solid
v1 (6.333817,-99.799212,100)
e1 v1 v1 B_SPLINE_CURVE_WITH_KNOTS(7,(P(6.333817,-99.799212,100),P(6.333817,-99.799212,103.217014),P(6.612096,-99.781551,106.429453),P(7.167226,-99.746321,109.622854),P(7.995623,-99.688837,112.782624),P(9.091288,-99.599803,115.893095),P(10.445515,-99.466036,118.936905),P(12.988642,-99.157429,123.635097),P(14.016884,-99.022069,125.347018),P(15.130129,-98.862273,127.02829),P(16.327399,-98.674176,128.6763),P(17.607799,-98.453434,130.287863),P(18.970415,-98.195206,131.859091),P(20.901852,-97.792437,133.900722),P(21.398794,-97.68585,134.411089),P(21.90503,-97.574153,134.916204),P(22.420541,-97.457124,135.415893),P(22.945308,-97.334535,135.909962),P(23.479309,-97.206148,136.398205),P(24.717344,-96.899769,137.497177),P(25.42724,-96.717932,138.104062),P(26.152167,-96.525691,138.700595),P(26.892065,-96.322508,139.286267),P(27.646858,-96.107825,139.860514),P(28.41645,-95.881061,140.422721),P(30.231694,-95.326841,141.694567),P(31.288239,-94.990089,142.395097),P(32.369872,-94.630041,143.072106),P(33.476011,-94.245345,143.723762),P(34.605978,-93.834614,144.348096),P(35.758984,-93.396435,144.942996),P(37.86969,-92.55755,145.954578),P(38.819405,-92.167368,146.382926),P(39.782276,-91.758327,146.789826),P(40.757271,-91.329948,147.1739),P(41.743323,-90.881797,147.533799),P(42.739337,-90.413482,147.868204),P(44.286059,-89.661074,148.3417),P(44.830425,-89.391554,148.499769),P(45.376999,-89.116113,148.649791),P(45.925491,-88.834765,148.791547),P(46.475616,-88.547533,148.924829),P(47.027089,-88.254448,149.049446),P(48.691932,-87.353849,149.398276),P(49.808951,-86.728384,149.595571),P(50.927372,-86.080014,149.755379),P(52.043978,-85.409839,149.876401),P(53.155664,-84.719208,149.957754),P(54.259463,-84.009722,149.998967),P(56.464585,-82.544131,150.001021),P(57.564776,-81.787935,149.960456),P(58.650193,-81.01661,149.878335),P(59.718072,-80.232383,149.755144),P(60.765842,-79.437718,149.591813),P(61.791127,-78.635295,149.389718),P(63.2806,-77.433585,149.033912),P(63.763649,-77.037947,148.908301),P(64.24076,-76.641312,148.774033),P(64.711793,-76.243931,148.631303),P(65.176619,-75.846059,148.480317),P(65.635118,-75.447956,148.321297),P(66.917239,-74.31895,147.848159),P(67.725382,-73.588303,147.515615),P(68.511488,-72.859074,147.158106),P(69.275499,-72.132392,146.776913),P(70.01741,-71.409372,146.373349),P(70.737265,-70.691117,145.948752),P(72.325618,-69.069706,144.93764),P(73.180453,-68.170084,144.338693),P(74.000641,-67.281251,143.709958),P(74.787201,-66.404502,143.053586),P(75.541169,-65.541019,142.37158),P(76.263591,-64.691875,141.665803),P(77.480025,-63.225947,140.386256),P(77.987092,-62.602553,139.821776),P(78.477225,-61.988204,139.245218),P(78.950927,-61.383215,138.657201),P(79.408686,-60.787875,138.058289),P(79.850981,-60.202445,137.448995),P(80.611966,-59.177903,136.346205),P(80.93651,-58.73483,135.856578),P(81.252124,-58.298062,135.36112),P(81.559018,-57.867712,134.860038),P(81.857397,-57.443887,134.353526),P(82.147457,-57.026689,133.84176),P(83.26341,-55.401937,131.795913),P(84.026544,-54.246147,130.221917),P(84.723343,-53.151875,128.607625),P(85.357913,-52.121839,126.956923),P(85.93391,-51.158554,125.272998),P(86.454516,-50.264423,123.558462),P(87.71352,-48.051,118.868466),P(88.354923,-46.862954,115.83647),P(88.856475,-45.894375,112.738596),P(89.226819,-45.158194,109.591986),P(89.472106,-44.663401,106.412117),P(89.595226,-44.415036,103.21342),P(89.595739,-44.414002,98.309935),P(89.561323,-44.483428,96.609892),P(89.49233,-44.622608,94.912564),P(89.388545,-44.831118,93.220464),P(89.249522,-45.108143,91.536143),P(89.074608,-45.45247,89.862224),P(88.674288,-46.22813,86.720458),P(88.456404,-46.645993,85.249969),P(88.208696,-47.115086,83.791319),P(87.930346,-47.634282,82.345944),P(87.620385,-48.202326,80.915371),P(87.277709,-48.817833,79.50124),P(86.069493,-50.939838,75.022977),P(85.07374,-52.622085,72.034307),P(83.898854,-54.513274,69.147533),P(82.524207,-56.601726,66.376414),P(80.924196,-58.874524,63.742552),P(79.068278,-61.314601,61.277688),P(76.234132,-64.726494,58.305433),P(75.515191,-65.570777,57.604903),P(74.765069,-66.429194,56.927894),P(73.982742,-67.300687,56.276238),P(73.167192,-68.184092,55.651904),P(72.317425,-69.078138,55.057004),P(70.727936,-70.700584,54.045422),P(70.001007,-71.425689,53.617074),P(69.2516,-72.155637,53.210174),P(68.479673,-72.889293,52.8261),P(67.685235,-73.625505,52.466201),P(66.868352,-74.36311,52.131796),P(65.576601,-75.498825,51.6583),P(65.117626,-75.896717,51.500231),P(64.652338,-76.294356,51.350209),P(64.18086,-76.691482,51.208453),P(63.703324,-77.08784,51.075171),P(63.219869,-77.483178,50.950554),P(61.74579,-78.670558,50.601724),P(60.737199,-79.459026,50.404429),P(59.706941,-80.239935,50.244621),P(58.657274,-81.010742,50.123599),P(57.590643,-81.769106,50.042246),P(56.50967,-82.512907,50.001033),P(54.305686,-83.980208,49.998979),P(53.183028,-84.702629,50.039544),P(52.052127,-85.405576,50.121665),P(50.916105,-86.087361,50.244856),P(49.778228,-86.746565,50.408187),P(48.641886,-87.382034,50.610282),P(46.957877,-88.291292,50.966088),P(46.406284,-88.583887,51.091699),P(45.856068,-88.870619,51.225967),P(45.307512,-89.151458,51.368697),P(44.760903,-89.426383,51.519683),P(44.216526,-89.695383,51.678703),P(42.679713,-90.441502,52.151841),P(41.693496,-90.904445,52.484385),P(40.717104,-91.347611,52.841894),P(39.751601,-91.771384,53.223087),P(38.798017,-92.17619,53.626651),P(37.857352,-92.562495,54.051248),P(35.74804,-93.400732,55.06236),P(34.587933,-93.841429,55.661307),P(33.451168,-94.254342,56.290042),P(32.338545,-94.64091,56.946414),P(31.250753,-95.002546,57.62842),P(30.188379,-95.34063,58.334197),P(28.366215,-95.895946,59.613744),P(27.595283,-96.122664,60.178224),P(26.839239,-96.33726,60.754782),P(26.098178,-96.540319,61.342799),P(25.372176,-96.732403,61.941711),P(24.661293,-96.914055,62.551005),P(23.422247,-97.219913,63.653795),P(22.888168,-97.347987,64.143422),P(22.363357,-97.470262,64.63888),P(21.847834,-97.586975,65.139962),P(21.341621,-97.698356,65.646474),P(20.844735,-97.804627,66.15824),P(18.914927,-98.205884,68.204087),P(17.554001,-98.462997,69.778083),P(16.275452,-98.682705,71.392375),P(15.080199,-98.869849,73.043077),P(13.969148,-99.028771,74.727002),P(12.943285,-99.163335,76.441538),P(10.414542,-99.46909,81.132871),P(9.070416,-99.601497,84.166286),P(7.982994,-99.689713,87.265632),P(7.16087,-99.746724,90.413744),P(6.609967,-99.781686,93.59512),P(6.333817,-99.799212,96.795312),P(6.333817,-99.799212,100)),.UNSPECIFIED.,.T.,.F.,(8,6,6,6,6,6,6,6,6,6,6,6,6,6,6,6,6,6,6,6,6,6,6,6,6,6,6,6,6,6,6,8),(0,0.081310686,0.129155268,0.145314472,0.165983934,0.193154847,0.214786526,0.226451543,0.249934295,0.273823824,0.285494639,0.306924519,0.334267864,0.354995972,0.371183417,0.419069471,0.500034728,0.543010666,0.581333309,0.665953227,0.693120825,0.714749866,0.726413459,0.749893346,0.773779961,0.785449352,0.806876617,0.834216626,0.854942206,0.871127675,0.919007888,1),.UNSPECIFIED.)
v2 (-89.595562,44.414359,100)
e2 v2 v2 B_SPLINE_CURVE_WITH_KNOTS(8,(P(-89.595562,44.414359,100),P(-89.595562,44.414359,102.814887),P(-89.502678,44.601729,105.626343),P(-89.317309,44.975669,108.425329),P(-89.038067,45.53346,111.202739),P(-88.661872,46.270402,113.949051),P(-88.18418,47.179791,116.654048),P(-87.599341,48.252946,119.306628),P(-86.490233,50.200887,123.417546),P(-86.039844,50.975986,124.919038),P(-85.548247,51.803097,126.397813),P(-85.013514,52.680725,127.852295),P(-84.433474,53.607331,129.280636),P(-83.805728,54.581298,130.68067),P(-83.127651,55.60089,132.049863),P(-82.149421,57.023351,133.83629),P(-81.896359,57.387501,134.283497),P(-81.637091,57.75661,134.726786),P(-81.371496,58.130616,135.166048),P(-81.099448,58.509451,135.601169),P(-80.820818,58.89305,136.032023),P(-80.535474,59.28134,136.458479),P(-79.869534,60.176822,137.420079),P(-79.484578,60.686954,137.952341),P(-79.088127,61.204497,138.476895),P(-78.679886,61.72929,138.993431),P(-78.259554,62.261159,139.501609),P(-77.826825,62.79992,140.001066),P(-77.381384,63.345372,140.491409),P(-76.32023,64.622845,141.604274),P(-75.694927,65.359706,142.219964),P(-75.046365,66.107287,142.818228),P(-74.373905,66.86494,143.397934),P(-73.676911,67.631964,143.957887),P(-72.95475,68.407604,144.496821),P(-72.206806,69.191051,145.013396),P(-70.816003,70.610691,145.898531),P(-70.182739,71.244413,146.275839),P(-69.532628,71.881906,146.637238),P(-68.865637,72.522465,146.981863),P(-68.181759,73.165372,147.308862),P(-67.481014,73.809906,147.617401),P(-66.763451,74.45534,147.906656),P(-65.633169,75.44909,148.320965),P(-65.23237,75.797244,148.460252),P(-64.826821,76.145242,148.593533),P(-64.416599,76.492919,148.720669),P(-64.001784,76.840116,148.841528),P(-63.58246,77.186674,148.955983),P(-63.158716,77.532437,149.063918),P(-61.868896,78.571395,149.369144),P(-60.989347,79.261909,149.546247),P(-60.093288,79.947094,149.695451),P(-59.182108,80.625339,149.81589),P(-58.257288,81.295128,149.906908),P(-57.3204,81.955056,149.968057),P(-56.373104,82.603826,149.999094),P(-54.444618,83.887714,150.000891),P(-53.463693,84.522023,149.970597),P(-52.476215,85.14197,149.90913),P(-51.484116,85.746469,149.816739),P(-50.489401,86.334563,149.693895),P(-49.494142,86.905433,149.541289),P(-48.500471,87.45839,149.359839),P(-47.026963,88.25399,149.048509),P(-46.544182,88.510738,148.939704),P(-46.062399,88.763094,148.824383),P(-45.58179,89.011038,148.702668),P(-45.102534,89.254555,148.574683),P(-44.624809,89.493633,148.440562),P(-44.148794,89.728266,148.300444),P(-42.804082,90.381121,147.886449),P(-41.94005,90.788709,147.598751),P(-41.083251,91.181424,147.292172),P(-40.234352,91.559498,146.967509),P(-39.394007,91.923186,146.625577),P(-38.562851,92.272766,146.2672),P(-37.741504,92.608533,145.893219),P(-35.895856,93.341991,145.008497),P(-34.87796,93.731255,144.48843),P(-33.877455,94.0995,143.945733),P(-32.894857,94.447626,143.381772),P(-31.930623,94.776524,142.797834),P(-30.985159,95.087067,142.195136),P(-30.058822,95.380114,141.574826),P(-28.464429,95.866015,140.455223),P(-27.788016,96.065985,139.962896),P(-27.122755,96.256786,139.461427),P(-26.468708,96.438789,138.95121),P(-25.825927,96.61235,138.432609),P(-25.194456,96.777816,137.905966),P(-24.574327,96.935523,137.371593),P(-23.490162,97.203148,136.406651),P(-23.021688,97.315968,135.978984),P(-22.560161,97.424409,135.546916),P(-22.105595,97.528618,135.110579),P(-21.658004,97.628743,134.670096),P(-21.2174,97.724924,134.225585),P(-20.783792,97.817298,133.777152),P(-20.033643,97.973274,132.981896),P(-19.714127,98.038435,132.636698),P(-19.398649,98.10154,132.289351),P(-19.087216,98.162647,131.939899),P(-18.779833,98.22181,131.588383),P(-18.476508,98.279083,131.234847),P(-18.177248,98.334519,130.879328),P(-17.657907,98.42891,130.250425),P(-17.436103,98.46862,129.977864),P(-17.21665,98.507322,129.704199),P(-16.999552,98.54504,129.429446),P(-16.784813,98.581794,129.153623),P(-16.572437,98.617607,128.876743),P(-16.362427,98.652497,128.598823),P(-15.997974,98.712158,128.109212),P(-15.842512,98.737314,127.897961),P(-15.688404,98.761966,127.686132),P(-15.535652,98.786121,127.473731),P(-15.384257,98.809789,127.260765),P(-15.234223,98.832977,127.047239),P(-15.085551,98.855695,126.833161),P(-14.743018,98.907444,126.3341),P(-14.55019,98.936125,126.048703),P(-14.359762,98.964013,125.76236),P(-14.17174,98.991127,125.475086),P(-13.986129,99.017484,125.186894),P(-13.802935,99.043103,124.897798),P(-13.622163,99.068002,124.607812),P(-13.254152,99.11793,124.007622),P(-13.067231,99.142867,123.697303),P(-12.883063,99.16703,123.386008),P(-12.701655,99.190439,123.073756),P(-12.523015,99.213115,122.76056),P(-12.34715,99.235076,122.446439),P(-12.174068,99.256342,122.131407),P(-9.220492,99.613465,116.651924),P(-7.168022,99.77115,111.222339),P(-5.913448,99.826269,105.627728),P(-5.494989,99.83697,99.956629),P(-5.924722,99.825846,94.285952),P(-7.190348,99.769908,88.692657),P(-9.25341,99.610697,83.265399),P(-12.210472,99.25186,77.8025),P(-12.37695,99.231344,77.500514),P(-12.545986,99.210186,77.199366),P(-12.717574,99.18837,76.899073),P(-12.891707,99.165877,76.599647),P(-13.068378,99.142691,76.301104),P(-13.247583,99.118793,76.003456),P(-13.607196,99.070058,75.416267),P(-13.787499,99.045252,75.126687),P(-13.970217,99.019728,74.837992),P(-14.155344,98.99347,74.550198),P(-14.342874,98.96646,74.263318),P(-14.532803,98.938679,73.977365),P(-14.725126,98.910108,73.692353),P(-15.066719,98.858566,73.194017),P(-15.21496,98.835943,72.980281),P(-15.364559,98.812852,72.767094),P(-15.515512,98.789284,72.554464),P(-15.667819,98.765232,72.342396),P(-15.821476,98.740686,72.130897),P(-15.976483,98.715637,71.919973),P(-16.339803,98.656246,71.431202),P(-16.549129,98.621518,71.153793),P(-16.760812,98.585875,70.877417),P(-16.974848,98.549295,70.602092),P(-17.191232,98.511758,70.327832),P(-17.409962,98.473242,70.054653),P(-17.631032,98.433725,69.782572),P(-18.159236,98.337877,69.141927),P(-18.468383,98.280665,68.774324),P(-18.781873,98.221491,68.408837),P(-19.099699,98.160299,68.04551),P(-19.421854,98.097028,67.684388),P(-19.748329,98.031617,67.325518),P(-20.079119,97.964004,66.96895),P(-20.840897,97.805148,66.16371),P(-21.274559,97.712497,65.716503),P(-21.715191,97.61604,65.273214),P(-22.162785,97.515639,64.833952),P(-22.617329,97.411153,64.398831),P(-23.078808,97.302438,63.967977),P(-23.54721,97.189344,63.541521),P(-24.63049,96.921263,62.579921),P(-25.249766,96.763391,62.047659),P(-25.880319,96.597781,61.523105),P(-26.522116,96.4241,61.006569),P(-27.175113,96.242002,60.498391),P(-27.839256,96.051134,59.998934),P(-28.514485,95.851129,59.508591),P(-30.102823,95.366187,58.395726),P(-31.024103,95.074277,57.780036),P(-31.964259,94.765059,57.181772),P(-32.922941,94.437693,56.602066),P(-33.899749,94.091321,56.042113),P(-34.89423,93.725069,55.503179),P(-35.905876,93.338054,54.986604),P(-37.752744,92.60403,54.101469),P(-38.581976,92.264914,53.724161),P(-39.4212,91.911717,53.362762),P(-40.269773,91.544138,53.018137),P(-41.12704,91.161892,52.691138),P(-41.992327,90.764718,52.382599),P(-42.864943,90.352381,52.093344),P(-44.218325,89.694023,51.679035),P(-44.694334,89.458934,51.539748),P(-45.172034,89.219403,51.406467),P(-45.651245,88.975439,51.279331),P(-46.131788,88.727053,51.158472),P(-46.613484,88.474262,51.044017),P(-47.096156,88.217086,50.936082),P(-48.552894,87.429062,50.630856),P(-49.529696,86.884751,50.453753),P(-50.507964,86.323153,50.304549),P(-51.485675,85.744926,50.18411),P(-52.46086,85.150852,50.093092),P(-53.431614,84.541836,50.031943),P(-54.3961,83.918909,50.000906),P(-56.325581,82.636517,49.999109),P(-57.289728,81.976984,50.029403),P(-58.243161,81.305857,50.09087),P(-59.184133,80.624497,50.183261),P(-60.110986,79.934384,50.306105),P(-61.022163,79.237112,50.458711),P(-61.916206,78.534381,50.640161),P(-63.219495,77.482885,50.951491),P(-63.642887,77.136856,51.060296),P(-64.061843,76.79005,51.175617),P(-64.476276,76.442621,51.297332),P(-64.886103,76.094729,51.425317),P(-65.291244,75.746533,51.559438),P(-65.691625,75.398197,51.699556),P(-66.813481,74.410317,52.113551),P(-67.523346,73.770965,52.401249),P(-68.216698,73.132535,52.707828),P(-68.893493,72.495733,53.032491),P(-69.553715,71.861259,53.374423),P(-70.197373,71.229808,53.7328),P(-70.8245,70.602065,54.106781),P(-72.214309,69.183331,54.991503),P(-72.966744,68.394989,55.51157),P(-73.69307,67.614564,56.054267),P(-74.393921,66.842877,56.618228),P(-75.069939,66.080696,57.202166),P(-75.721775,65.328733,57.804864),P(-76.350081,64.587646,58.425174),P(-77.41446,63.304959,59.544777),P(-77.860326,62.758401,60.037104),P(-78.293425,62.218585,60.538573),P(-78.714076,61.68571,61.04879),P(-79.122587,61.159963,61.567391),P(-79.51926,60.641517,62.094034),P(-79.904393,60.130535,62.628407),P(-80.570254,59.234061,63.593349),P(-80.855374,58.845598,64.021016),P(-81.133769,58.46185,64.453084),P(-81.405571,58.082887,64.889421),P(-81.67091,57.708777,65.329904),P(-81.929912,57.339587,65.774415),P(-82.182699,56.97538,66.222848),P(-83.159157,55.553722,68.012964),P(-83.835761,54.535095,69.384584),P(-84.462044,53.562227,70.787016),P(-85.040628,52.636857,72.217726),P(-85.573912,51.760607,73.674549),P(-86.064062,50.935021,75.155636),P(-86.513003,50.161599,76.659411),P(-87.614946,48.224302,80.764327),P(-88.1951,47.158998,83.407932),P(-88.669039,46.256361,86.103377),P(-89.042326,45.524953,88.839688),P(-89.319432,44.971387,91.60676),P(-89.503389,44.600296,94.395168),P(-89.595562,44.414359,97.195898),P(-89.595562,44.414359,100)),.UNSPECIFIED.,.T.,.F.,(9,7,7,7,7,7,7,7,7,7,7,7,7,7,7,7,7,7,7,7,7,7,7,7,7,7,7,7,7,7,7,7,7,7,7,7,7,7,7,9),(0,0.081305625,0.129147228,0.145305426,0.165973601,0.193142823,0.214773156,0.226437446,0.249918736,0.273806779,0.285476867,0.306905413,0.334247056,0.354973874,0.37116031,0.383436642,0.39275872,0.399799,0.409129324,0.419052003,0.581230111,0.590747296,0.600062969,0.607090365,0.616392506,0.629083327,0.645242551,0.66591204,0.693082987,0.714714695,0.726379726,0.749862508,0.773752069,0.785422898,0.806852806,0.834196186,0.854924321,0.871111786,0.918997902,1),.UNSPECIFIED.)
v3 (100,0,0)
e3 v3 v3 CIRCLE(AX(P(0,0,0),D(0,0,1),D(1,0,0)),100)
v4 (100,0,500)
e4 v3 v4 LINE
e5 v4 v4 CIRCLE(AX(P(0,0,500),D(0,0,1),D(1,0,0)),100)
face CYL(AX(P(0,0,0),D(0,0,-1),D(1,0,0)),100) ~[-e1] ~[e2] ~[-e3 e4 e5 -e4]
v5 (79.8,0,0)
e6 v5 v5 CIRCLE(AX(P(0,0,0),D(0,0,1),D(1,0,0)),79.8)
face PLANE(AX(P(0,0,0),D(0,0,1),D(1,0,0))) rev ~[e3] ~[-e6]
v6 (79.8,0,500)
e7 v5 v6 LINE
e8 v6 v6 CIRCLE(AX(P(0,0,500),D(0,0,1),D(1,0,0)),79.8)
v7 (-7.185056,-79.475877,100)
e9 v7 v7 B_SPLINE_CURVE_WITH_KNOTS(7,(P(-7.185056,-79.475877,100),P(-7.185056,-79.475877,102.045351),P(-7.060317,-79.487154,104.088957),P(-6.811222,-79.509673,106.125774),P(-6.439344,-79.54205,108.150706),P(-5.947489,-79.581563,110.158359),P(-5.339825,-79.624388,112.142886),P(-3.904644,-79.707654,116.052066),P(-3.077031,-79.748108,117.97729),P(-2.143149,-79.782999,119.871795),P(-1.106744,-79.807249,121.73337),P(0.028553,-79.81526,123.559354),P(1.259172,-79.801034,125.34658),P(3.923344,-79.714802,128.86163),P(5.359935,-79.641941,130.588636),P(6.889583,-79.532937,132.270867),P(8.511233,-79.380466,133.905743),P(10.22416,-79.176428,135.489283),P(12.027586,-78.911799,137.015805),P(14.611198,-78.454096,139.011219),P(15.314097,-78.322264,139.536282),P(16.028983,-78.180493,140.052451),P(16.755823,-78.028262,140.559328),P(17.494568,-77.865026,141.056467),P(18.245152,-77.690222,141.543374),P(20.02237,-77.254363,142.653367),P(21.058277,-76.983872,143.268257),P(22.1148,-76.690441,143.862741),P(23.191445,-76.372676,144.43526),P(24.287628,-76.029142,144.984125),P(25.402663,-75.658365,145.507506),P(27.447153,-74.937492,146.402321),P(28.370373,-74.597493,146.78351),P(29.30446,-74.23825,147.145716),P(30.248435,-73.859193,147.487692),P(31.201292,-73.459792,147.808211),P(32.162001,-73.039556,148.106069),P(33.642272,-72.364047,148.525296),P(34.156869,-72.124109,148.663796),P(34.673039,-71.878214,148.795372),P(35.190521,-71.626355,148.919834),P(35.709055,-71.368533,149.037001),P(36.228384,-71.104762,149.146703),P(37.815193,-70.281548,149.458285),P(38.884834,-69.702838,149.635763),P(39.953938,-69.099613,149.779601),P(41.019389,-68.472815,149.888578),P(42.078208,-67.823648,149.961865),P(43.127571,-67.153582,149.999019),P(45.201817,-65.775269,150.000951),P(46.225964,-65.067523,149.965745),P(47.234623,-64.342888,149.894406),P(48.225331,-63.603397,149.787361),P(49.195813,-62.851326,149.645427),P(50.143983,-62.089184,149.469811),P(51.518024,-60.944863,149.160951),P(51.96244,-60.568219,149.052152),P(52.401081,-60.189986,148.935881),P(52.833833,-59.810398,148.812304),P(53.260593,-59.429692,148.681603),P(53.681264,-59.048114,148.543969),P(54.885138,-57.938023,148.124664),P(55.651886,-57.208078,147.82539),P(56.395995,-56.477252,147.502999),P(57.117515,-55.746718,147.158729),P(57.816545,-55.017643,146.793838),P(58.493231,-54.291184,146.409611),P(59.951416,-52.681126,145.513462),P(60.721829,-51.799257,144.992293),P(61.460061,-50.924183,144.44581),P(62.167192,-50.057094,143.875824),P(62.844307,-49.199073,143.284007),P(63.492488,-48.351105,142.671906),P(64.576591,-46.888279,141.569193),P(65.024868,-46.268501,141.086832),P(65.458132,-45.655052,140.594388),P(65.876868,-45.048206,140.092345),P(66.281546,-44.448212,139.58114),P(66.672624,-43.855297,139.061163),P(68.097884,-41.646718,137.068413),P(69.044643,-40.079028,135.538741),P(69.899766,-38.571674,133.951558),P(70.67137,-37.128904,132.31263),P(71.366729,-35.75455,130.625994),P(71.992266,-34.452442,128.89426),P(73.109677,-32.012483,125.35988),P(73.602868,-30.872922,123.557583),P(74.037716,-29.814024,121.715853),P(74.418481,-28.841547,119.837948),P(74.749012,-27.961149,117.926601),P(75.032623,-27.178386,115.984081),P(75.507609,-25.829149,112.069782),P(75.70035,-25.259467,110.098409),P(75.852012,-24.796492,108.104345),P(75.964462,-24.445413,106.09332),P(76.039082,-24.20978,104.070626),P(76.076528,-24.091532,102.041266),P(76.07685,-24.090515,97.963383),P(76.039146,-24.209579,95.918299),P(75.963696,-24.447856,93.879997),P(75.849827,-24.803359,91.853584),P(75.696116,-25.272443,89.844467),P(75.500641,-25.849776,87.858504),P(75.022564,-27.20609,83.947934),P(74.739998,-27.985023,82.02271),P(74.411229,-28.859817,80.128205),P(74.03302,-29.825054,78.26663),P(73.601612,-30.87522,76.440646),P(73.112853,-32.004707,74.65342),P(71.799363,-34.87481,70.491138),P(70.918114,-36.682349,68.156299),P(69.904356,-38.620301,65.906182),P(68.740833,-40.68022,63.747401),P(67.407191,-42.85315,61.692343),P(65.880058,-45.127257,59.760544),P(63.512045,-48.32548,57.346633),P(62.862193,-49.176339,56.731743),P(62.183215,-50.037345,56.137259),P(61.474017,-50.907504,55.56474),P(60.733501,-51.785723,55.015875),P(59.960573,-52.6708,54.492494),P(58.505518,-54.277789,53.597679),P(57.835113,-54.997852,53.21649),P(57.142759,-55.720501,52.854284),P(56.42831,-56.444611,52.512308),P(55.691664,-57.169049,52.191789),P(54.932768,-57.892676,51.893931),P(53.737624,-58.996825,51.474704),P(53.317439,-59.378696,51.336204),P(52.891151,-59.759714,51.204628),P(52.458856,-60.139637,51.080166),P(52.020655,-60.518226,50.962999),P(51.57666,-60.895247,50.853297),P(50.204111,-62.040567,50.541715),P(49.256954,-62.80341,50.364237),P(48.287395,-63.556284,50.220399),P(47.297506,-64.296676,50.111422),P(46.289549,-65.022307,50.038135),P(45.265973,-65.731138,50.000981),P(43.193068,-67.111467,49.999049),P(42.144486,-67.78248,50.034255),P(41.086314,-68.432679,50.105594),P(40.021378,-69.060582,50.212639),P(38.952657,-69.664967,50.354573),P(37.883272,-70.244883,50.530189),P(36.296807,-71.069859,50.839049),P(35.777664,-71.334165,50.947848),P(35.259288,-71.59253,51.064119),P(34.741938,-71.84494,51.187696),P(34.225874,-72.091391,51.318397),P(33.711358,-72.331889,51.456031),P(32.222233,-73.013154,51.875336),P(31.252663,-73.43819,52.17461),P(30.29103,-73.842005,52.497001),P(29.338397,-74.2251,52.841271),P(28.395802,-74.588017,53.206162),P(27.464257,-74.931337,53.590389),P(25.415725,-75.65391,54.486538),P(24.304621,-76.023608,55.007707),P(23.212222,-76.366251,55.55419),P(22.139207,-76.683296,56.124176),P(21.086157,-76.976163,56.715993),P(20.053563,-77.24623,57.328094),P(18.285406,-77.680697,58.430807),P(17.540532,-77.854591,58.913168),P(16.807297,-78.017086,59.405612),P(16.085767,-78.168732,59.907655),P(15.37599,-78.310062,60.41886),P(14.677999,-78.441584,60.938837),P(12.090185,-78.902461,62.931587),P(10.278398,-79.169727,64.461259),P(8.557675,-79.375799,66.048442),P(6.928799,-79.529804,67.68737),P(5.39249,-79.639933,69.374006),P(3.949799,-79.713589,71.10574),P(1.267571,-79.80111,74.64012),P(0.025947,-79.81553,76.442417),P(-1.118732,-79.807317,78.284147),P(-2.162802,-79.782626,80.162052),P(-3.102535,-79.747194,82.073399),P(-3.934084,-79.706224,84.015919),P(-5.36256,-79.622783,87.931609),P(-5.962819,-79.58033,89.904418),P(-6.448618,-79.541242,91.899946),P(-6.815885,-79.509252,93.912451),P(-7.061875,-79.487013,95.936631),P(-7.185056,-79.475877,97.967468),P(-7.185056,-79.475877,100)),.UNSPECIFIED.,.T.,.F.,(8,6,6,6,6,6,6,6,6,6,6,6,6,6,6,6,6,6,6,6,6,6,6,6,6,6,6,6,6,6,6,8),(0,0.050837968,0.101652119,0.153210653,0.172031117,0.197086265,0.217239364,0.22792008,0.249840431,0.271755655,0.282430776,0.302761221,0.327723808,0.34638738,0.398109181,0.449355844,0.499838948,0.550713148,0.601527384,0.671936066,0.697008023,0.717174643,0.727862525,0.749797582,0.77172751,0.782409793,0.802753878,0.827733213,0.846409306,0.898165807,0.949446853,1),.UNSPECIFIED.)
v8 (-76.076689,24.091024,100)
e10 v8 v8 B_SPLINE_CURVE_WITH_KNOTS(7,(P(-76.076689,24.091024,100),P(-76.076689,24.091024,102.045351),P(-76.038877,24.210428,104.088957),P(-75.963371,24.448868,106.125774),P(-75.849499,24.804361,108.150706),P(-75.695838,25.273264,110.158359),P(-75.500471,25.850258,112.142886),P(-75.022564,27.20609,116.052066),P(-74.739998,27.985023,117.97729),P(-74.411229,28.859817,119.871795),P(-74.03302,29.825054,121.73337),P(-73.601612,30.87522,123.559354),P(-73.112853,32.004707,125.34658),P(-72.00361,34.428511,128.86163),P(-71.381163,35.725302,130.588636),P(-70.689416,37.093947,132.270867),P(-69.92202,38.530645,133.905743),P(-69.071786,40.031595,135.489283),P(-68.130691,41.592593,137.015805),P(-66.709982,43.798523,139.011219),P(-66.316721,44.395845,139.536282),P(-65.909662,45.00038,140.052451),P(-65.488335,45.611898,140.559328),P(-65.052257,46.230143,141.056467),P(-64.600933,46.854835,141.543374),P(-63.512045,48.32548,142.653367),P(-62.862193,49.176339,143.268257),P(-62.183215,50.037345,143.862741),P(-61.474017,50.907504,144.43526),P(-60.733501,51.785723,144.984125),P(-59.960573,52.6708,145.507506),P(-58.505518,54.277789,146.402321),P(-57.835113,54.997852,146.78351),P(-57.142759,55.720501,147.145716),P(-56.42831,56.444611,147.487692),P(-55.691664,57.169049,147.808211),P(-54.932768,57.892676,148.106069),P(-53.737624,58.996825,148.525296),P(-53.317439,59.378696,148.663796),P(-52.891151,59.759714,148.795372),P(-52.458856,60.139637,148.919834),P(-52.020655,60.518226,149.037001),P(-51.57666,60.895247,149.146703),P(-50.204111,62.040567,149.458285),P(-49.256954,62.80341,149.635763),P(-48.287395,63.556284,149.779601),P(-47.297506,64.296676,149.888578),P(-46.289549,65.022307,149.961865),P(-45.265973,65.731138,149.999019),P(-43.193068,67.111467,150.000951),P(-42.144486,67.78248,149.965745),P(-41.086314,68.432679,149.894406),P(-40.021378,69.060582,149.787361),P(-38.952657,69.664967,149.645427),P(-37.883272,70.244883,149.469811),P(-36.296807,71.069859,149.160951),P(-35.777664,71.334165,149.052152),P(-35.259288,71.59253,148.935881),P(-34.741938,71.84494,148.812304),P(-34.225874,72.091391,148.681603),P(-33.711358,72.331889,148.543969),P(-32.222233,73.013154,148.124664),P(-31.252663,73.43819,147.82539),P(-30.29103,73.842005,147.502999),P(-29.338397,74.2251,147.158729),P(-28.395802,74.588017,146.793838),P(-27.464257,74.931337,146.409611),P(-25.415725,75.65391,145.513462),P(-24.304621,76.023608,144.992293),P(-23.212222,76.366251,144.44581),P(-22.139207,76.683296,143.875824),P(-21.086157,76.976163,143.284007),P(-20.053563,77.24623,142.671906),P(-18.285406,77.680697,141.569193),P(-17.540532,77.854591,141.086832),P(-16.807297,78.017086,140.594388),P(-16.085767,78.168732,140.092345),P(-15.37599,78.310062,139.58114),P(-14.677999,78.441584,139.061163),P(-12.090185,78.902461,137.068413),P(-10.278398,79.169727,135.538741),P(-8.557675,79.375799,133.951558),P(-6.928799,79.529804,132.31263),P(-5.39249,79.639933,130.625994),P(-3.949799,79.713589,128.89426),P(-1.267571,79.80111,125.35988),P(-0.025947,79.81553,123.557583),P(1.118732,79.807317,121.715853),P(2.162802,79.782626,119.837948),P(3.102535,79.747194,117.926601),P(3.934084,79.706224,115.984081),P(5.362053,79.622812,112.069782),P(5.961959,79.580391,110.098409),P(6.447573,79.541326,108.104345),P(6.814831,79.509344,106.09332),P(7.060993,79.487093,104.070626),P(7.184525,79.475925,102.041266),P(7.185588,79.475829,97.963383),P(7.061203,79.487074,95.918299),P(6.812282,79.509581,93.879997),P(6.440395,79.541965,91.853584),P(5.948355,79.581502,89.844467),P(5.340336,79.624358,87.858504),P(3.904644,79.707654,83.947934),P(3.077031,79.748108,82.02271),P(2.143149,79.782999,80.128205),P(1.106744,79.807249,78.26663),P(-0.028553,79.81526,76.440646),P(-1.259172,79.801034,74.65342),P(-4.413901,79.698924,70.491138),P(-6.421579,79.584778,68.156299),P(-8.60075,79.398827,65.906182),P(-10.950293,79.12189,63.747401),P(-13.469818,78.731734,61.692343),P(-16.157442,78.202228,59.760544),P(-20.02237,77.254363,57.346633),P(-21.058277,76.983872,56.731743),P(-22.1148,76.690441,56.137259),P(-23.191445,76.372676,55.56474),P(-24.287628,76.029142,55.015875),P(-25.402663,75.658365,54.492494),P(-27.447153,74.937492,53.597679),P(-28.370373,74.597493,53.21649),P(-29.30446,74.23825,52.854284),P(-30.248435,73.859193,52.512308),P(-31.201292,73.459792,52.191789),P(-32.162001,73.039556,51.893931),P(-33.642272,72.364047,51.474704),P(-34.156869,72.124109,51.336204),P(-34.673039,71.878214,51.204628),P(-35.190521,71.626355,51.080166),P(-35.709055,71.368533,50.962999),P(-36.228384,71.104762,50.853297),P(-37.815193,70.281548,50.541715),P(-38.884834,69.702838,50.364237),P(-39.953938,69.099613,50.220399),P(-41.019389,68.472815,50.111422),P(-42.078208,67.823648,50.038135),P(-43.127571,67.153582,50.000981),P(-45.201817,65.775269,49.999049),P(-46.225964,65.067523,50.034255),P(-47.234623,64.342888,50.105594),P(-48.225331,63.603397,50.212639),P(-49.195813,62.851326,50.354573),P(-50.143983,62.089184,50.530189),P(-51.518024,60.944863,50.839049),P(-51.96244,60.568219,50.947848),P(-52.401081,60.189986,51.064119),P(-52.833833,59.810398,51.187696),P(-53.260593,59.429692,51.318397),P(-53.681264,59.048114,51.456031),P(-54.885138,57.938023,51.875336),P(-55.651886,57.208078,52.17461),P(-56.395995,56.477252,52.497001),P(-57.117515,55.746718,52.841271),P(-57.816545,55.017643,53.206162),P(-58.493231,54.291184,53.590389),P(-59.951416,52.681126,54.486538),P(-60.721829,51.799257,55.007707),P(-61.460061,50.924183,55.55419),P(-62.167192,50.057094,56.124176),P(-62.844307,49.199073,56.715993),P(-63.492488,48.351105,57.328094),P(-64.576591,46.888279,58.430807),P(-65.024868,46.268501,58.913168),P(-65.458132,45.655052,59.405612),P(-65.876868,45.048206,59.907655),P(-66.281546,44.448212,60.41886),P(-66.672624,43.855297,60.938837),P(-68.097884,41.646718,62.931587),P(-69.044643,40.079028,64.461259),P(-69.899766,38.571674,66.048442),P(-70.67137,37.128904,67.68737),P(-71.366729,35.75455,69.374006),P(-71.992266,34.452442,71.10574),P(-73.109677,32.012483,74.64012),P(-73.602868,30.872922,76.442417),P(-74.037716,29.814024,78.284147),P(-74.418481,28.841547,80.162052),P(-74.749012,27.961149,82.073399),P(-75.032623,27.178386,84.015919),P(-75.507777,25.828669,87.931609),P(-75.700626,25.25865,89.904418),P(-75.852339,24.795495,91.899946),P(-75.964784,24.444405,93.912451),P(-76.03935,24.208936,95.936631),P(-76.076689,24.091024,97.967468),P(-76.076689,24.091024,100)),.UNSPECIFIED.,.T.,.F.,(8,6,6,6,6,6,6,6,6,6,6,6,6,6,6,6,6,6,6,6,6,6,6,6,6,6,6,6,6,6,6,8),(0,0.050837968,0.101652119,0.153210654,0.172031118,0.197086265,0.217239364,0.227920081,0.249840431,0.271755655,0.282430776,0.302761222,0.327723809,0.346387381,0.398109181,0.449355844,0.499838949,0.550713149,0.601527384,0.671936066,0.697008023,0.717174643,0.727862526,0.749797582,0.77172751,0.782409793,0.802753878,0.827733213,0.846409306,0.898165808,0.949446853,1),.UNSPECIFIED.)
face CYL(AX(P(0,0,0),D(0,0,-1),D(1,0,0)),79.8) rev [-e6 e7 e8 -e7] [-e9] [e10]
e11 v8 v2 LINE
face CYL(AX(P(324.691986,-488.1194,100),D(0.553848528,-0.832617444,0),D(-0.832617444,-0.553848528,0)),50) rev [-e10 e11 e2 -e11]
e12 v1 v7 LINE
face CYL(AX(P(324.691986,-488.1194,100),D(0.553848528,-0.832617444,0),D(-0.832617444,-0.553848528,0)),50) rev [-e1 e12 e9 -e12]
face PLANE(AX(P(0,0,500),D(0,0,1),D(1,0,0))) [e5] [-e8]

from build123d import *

# Parameters (mm, degrees)
CROQUIS1_R                 = 100
CROQUIS1_R_2               = 79.8
SALIENTE_EXTRUIR1_DEPTH    = 500
CORTAR_EXTRUIR1_DEPTH      = 586.09066571
CORTAR_EXTRUIR1_DEPTH_BACK = 586.09066571
CROQUIS2_R                 = 50


with BuildPart() as part:
    # Croquis1 → Saliente-Extruir1 (new body)
    with BuildSketch(Plane.XY):
        Circle(CROQUIS1_R)
        Circle(CROQUIS1_R_2, mode=Mode.SUBTRACT)
    extrude(amount=SALIENTE_EXTRUIR1_DEPTH)

    # Croquis2 → Cortar-Extruir1 (cut, two sides: drawn at the far end of the back side and taken through both)
    with BuildSketch(Plane(origin=(-136.394308599, -90.915735243, 0), x_dir=(0, 0, 1), z_dir=(-0.5538485277748214, 0.8326174441372599, 0)).offset(-CORTAR_EXTRUIR1_DEPTH_BACK)):
        with Locations(Location((100, 163.917826736, 0), (0, 0, 270))):
            Circle(CROQUIS2_R)
    extrude(amount=CORTAR_EXTRUIR1_DEPTH + CORTAR_EXTRUIR1_DEPTH_BACK, mode=Mode.SUBTRACT)


solid = part.part
